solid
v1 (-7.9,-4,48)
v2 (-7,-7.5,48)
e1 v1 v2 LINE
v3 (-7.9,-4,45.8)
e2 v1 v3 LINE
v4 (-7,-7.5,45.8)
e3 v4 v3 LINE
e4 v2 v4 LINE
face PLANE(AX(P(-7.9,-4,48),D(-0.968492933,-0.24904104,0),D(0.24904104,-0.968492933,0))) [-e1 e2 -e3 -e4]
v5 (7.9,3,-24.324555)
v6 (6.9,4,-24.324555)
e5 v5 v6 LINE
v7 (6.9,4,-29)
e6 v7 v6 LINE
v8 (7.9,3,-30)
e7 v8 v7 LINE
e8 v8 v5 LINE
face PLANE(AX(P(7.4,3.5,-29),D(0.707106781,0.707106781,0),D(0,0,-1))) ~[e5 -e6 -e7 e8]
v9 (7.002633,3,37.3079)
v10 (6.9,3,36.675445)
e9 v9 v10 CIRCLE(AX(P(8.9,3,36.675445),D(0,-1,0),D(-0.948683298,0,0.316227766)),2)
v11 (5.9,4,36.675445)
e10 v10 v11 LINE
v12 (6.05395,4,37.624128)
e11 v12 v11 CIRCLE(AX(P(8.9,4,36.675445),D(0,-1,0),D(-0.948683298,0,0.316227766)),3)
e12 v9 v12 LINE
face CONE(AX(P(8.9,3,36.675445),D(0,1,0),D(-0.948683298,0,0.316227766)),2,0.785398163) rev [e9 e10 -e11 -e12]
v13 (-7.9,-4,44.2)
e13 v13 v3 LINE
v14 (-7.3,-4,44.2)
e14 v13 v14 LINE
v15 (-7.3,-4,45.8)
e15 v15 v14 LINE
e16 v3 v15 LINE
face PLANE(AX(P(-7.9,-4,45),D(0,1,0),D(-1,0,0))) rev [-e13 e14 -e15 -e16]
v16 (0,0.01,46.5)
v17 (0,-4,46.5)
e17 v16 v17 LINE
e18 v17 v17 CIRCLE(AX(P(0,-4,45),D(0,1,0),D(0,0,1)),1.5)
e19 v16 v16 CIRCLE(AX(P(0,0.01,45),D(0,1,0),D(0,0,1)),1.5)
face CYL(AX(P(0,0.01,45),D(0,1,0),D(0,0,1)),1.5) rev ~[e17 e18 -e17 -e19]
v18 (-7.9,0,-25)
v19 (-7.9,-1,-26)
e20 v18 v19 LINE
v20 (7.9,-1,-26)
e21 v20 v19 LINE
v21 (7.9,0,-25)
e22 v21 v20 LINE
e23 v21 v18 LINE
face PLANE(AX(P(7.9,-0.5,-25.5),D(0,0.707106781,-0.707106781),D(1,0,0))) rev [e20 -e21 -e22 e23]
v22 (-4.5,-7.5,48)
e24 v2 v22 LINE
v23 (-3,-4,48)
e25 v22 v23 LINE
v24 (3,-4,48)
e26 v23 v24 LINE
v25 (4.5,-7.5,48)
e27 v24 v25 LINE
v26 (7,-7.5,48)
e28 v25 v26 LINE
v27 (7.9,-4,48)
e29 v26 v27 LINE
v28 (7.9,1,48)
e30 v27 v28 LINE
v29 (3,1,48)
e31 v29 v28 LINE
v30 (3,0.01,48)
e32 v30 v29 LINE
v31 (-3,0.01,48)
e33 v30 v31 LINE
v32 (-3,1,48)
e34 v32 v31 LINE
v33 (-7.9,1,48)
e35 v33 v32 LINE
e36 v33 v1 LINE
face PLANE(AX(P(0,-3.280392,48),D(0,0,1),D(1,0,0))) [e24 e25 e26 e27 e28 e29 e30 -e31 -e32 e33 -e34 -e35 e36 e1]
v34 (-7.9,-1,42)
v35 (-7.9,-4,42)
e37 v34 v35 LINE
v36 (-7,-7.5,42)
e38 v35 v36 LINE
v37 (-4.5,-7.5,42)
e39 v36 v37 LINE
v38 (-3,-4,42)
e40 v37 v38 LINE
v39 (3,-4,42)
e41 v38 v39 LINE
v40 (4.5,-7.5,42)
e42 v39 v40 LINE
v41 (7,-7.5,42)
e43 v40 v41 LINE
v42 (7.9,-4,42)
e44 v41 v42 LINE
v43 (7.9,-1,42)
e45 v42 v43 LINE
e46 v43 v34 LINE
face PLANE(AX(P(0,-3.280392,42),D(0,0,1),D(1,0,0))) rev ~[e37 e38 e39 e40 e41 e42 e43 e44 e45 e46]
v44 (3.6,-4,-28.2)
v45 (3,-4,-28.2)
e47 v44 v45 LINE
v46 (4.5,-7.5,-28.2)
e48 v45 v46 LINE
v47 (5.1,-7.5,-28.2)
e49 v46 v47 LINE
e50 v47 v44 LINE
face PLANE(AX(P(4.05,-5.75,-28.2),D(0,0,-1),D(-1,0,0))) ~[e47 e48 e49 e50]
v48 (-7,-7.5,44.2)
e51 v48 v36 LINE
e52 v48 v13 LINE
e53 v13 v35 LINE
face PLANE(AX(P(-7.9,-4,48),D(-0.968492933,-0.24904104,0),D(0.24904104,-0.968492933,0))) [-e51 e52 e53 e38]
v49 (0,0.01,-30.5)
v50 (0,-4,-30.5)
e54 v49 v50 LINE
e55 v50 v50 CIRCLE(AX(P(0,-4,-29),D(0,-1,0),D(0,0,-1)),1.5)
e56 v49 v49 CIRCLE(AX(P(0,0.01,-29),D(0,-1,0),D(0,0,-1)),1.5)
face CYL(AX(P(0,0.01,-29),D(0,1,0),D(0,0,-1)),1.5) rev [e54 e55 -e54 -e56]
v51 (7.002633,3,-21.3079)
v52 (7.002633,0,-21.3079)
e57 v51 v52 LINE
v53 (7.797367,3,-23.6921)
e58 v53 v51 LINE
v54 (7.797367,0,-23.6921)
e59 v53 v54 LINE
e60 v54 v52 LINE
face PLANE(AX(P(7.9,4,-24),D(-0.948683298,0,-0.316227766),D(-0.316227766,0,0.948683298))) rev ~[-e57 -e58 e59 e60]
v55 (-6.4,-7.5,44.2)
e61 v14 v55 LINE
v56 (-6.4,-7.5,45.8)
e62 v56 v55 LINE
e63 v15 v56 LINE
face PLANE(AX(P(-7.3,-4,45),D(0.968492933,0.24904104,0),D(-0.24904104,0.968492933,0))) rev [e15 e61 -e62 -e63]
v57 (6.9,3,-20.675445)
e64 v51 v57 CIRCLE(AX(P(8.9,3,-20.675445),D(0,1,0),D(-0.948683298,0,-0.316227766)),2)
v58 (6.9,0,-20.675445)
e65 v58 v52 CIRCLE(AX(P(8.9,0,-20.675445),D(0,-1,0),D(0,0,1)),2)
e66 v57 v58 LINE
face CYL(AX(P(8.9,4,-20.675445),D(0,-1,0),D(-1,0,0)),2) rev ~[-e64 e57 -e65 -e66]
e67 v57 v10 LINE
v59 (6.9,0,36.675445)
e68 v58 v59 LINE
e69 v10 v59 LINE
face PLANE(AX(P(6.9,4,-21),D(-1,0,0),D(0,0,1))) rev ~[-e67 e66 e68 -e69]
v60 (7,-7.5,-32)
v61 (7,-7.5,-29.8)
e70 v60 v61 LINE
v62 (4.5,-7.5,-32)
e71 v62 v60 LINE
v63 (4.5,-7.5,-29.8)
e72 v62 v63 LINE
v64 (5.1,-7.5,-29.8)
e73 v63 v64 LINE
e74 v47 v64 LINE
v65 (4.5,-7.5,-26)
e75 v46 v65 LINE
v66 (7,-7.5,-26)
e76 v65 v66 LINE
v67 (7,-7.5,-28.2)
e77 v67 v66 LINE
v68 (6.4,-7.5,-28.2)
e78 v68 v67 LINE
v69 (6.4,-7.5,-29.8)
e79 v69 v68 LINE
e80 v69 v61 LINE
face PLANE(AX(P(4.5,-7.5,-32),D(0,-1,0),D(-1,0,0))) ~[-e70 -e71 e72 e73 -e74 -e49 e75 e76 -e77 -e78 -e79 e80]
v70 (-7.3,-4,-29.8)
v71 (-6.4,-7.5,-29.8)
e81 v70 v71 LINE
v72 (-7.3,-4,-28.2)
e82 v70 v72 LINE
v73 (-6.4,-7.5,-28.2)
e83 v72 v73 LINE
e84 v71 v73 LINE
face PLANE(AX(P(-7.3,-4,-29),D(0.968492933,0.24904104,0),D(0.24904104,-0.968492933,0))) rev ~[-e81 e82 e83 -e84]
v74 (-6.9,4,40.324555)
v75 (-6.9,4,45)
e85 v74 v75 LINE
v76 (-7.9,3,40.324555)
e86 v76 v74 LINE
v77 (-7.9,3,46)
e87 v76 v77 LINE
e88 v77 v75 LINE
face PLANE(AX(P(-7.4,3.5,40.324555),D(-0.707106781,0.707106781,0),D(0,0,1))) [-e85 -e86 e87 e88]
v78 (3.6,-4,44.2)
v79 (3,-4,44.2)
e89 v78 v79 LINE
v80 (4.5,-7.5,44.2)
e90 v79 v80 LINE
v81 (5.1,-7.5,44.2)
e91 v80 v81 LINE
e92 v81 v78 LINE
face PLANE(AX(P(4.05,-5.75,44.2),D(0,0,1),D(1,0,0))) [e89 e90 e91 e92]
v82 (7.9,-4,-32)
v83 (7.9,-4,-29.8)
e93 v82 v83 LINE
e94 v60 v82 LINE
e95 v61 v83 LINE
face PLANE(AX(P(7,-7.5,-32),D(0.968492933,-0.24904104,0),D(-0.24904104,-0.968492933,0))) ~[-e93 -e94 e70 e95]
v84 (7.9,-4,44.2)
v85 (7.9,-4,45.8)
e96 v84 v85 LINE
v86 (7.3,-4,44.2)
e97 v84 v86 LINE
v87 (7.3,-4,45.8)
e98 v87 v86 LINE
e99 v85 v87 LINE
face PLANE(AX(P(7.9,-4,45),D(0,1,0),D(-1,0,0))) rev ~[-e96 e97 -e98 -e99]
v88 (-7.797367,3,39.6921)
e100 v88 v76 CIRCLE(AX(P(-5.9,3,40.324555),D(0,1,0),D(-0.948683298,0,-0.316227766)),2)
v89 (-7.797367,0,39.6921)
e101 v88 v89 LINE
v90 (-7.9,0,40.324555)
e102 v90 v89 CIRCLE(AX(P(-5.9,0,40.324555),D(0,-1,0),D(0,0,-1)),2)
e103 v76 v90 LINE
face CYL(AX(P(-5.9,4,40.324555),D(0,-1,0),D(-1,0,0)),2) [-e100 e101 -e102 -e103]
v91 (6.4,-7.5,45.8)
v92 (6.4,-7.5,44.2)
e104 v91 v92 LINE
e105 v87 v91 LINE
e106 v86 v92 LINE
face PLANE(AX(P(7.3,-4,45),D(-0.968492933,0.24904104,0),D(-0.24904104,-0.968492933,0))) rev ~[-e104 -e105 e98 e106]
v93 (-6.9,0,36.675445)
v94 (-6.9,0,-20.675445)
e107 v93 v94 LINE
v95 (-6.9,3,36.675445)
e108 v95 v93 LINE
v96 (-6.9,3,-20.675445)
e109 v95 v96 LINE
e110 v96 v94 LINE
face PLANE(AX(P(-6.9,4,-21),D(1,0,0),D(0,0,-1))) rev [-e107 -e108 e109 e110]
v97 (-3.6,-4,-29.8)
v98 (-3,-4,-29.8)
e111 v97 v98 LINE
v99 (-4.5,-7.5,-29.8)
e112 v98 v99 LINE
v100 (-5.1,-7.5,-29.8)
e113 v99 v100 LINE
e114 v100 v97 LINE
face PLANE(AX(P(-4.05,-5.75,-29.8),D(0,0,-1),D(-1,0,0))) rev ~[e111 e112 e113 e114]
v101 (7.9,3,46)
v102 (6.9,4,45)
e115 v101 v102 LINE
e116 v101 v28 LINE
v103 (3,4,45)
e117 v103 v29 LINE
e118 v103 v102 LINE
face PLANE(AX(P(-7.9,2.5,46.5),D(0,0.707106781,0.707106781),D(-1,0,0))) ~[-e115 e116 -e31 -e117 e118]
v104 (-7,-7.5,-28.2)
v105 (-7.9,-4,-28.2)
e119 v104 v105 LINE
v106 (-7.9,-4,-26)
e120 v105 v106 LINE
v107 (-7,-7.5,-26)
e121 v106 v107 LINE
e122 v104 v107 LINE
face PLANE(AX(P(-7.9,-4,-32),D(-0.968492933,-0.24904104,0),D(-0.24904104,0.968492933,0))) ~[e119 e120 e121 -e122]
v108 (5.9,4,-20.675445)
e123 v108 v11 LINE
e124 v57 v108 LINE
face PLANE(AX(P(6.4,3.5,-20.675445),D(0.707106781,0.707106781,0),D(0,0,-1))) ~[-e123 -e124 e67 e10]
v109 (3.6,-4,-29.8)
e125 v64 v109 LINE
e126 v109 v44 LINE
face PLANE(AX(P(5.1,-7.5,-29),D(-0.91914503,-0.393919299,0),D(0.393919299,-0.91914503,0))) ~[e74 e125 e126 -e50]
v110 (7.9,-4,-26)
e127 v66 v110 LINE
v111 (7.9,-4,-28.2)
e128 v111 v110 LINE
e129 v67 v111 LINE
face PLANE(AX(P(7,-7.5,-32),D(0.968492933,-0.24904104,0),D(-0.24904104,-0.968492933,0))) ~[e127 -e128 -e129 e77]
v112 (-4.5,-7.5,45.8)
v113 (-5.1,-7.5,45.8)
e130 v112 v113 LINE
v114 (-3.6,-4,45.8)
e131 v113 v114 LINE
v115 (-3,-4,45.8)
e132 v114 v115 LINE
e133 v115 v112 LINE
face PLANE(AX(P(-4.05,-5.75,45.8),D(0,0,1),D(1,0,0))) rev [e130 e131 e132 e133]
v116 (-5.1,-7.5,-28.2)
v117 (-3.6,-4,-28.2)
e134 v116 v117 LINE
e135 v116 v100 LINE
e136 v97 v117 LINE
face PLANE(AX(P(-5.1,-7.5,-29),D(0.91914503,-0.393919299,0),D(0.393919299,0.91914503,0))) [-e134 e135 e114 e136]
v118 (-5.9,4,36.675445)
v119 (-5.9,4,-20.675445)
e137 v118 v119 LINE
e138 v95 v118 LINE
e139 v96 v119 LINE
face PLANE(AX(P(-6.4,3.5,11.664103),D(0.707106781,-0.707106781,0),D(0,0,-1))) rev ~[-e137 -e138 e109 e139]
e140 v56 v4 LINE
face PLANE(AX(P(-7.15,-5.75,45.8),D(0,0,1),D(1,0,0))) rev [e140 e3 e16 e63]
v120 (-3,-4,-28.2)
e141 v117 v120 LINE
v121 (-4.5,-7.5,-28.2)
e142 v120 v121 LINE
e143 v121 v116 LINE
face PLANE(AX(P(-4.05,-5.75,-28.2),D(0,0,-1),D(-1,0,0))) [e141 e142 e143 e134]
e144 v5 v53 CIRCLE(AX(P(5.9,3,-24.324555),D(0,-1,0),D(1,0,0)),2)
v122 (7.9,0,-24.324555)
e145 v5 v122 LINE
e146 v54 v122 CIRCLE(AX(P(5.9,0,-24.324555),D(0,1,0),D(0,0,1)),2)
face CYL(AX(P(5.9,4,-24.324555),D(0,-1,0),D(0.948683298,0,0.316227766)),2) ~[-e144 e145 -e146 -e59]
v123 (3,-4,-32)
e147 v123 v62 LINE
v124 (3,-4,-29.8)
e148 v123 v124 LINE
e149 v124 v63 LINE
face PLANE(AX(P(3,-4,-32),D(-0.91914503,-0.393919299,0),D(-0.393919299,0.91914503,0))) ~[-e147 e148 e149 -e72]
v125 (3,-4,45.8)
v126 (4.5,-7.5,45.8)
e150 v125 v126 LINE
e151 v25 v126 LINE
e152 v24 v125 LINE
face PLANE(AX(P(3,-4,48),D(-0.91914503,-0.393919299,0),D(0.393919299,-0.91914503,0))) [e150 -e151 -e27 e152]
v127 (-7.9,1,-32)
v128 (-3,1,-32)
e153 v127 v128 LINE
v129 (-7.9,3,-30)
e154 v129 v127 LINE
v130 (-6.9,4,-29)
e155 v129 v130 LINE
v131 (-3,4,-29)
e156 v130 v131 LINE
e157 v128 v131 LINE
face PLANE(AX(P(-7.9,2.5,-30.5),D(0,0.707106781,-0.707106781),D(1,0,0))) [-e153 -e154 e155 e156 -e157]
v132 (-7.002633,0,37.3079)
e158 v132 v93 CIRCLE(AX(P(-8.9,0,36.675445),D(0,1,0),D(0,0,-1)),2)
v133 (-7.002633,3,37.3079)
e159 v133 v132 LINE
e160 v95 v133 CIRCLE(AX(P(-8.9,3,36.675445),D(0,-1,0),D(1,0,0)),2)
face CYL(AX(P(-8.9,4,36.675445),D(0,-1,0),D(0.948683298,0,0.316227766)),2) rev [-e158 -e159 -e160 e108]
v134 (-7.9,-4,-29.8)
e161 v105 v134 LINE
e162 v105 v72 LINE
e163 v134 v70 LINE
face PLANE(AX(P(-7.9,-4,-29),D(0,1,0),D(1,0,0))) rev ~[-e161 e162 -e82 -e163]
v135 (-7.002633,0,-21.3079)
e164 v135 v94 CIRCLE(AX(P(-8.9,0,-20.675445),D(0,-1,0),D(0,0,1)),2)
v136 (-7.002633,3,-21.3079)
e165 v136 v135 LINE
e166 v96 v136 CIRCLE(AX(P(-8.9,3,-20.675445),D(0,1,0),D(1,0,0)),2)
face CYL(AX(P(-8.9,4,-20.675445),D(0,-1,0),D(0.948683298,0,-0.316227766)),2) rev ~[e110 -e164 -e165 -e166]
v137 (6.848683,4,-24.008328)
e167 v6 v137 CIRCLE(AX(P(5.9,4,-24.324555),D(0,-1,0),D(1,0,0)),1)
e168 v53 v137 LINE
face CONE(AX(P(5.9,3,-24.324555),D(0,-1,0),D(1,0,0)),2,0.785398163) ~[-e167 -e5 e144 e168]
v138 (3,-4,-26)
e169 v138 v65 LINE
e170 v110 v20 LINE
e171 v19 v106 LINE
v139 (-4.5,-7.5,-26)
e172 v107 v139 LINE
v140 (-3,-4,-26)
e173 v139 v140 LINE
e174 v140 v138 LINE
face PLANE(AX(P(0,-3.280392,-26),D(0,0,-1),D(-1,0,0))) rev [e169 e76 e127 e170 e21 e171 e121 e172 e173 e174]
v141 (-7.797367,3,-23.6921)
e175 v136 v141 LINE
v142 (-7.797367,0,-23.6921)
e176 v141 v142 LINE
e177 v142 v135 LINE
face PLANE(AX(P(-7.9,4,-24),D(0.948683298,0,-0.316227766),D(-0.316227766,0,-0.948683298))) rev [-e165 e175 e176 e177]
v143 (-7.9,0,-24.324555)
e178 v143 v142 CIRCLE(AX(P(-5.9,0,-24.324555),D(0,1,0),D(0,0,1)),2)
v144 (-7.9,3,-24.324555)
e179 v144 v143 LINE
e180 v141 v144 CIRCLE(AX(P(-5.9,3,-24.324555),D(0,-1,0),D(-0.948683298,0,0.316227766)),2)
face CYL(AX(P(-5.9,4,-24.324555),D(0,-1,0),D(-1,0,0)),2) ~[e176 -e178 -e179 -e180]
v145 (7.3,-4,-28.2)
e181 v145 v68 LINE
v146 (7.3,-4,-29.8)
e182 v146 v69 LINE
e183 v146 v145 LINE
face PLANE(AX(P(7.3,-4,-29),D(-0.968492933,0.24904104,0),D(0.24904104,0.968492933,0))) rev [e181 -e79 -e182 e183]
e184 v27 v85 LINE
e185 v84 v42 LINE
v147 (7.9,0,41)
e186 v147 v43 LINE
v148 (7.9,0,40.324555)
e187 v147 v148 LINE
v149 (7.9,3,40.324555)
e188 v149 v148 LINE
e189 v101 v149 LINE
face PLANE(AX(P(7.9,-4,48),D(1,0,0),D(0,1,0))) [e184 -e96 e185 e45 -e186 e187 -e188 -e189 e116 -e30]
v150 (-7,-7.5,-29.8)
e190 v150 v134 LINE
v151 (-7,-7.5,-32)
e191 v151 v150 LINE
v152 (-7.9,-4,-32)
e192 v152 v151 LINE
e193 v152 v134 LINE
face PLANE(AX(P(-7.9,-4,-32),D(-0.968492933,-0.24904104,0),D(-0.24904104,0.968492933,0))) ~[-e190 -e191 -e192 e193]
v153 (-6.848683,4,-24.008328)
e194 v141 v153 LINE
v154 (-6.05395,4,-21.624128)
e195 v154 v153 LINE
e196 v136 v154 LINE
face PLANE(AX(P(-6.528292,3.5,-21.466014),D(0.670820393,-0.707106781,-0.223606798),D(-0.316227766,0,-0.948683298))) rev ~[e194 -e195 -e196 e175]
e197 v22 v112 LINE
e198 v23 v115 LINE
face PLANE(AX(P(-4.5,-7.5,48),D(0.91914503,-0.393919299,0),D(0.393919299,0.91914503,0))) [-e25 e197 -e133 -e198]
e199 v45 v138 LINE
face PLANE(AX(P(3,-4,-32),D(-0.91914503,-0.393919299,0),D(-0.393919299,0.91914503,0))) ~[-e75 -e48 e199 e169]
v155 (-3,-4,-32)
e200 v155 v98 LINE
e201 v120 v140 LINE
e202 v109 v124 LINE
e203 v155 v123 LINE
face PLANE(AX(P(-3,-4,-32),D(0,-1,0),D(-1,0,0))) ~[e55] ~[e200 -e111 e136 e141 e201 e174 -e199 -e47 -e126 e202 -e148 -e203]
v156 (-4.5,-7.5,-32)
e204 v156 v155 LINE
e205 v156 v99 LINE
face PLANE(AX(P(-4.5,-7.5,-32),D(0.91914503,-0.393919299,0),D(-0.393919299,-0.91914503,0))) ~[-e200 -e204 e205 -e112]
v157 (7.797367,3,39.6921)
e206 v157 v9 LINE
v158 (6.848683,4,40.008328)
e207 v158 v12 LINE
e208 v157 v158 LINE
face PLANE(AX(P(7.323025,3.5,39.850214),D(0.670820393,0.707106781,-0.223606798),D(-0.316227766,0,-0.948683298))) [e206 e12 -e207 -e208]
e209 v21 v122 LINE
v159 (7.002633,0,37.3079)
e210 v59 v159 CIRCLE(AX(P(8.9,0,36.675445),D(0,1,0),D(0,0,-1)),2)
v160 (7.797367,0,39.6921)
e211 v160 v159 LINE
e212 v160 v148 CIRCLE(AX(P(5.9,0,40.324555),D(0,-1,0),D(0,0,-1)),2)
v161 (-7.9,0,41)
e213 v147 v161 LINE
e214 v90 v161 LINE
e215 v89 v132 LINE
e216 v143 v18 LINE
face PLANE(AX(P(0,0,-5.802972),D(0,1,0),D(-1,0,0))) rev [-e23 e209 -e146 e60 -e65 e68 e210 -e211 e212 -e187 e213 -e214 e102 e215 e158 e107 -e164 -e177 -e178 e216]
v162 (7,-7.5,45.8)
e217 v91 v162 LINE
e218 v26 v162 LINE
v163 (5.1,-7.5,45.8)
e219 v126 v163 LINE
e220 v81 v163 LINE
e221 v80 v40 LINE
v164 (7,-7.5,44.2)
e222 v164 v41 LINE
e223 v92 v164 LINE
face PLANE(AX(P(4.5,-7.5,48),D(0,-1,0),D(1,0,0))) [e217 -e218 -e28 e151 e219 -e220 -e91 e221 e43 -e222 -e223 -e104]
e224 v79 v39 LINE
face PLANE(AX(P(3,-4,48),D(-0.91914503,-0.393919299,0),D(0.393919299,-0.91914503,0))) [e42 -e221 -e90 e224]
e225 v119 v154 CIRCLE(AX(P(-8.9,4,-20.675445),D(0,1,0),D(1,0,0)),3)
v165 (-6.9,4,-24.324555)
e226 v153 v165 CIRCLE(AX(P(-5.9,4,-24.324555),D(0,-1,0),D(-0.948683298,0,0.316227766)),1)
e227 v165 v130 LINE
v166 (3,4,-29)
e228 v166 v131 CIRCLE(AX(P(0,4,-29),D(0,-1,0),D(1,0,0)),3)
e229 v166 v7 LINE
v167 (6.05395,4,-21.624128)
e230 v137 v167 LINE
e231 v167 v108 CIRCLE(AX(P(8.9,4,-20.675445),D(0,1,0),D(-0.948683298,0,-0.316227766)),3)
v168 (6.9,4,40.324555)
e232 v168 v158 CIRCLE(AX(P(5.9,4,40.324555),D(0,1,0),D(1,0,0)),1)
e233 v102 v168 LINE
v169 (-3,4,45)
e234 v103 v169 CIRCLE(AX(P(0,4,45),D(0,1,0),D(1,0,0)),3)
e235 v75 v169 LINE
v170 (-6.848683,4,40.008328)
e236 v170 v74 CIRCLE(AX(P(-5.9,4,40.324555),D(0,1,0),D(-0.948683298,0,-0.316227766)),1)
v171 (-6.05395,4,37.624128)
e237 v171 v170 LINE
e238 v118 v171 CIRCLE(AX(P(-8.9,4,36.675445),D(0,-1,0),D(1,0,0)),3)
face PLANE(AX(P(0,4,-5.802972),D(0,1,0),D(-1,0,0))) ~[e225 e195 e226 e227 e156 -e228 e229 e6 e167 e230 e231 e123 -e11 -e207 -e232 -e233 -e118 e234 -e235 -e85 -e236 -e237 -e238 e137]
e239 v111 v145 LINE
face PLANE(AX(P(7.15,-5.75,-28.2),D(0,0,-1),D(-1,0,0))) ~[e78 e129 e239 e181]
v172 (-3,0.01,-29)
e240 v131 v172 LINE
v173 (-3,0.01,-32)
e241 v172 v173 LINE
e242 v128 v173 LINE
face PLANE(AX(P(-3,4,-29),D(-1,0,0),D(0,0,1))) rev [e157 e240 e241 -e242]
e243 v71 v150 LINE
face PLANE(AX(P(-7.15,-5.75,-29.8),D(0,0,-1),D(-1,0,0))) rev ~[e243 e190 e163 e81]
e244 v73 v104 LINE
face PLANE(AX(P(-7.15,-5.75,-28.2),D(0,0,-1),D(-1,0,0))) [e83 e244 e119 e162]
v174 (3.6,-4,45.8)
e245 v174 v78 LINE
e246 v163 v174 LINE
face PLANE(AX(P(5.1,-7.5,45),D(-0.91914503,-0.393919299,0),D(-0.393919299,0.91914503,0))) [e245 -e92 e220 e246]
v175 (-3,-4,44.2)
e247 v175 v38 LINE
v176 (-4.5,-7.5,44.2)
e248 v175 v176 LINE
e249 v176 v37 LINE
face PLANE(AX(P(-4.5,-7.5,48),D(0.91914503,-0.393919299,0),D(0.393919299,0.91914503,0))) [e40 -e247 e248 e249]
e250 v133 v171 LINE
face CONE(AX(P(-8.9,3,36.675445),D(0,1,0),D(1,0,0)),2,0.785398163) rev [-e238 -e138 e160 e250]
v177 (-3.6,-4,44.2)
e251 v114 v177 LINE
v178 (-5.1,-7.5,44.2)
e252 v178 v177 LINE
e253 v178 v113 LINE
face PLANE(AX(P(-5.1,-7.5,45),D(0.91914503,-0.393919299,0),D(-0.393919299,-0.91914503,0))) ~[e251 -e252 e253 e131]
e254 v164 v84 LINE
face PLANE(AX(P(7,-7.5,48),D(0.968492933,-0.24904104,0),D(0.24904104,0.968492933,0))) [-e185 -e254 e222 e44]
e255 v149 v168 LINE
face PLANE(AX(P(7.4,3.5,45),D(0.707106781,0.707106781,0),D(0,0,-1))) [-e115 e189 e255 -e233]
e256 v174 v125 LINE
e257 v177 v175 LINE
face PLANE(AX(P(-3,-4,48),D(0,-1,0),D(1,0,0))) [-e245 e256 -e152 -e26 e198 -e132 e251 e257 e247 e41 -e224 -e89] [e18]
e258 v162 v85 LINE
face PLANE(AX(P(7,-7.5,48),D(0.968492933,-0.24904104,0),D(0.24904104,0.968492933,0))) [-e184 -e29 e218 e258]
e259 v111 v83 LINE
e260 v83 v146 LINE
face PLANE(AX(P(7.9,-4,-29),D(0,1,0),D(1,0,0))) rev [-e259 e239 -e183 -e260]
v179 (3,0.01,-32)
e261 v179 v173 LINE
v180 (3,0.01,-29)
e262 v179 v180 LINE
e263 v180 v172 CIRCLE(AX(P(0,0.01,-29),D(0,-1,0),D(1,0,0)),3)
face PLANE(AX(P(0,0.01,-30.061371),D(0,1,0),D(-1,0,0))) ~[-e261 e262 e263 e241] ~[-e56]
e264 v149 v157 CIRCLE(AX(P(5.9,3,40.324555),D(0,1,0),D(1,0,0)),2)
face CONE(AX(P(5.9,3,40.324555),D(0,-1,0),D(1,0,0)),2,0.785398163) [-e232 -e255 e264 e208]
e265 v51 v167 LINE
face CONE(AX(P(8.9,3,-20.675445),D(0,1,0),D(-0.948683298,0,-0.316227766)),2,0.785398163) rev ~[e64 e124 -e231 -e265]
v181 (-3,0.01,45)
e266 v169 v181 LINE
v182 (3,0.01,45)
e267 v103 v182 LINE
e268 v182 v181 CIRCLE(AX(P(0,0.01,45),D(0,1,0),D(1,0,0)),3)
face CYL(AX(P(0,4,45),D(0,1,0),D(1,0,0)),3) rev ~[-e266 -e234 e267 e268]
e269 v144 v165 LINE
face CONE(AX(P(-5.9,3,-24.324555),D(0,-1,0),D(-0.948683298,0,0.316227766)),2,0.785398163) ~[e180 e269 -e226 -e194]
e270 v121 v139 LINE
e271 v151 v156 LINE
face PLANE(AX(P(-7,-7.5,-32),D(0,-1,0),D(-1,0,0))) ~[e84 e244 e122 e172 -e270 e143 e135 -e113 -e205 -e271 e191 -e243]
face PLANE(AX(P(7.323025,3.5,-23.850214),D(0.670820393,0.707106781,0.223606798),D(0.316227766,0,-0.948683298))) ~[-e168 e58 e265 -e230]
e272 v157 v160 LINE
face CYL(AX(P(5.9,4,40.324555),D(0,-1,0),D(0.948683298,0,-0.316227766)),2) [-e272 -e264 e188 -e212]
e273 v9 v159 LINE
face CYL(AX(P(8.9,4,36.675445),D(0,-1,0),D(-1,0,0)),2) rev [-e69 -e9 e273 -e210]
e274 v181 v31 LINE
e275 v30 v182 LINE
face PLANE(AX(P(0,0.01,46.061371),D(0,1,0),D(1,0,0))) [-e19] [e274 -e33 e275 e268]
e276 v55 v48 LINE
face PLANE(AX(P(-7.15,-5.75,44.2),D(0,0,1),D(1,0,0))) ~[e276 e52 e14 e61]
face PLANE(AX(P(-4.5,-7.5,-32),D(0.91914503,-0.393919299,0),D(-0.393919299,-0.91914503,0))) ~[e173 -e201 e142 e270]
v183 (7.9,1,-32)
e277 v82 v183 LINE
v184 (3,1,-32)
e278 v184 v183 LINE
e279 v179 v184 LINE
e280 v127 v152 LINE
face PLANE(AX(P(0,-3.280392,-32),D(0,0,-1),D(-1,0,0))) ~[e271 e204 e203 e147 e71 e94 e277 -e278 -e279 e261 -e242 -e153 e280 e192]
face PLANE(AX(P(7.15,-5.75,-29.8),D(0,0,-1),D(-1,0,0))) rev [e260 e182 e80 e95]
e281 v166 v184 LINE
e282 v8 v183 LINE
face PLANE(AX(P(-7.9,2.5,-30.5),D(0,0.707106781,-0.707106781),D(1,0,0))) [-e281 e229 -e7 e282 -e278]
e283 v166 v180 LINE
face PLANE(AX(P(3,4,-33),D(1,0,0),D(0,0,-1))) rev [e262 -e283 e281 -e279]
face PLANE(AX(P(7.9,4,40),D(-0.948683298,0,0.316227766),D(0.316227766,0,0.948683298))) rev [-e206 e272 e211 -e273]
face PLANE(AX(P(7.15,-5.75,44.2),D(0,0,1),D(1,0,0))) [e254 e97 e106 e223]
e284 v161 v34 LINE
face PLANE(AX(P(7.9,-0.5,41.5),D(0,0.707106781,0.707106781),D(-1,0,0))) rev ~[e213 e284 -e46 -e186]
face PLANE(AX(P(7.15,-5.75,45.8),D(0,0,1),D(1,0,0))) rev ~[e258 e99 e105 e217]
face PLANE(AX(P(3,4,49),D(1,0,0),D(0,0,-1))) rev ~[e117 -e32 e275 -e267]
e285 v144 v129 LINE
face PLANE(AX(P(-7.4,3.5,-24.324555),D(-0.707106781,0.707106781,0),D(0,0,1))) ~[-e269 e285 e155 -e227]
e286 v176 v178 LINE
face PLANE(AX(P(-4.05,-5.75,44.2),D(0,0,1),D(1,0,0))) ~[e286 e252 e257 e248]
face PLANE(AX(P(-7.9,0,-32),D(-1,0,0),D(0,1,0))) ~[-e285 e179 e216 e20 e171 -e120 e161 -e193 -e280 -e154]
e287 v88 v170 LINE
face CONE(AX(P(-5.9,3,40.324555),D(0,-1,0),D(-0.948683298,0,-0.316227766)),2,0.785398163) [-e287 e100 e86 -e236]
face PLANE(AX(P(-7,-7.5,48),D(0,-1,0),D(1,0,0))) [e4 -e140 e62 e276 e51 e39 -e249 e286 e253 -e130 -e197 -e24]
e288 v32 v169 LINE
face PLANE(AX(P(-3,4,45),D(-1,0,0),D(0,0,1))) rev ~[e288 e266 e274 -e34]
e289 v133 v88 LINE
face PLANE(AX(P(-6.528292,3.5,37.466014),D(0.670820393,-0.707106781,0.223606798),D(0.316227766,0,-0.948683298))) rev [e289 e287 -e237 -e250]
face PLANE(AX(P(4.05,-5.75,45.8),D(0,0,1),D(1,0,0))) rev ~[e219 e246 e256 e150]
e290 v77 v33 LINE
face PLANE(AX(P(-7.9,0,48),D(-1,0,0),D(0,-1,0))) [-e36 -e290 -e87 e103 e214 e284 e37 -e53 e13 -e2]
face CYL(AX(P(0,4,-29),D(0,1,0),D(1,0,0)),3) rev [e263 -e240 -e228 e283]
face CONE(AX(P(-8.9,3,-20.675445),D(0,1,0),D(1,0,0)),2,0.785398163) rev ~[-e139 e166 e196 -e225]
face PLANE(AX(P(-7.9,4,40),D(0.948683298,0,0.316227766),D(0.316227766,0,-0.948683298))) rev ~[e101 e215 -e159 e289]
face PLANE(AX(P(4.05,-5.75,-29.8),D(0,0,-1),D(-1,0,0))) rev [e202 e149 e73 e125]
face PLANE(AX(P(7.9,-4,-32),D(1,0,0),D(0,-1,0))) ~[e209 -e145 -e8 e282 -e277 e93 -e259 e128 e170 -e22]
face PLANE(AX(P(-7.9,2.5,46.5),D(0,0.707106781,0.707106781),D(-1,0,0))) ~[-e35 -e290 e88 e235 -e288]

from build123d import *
from build123d.topology import SkipClean

# Parameters (mm, degrees)
EXTRUDE_1_DEPTH     = 4
EXTRUDE_3_DEPTH     = 6
CHAMFER_1_SIZE      = 3
CUT_EXTRUDE_2_DEPTH = 3.99
CUT_EXTRUDE_3_REACH = 51.222
SKETCH_7_R          = 1.5
SKETCH_8_R          = 6
EXTRUDE_4_DEPTH     = 1
FILLET_1_R          = 0.5
SKETCH_9_R          = 5
CUT_EXTRUDE_4_DEPTH = 3
SKETCH_10_R         = 3.55
CUT_EXTRUDE_5_DEPTH = 3.6
CUT_EXTRUDE_6_DEPTH = 0.8
CUT_EXTRUDE_7_DEPTH = 50.986598204
FILLET_2_R          = 2
CHAMFER_2_SIZE      = 1


with BuildPart() as part:
    # ｽｹｯﾁ1 → ﾎﾞｽ - 押し出し1 (new body)
    with BuildSketch(Plane(origin=(0, 0, 0), x_dir=(1, 0, 0), z_dir=(0, 1, 0))):
        with BuildLine():
            Line((-7.9, 0), (-7.9, -48))
            Line((-7.9, -48), (7.9, -48))
            Line((7.9, -48), (7.9, 0))
            ThreePointArc((7.9, 0), (0, 7.9), (-7.9, 0))
        make_face()
    extrude(amount=EXTRUDE_1_DEPTH)

    # ｽｹｯﾁ4 → ﾎﾞｽ - 押し出し3 (add)
    with BuildSketch(Plane.XY.offset(48)):
        Polygon((-7, -7.5), (-4.5, -7.5), (-3, -4), (3, -4), (4.5, -7.5), (7, -7.5), (7.9, -4), (7.9, 0), (-7.9, 0), (-7.9, -4), align=None)
    extrude(amount=-EXTRUDE_3_DEPTH)

    # 面取り1
    chamfer_1_edges = [part.edges().sort_by_distance(p)[0] for p in [
        (0, 4, 48),
    ]]
    chamfer(chamfer_1_edges, length=CHAMFER_1_SIZE)

    # ｽｹｯﾁ6 → ｶｯﾄ - 押し出し2 (cut)
    with BuildSketch(Plane(origin=(0, 4, 0), x_dir=(1, 0, 0), z_dir=(0, 1, 0))):
        with BuildLine():
            Line((-3, -45), (-3, -49))
            Line((-3, -49), (3, -49))
            Line((3, -49), (3, -45))
            ThreePointArc((3, -45), (0, -42), (-3, -45))
        make_face()
    extrude(amount=-CUT_EXTRUDE_2_DEPTH, mode=Mode.SUBTRACT)

    # ｽｹｯﾁ7 → ｶｯﾄ - 押し出し3 (cut, up to next)
    with BuildSketch(Plane(origin=(0, 0.01, 0), x_dir=(1, 0, 0), z_dir=(0, 1, 0)), mode=Mode.PRIVATE) as cut_extrude_3_sk1:
        with Locations(Location((0, -45, 0), (0, 0, 270))):
            Circle(SKETCH_7_R)
    cut_extrude_3_tool1 = extrude(cut_extrude_3_sk1.sketch, amount=-CUT_EXTRUDE_3_REACH, mode=Mode.PRIVATE) & part.part
    add(cut_extrude_3_tool1.solids().sort_by_distance((0, 0.01, 45))[0], mode=Mode.SUBTRACT)

    # ｽｹｯﾁ8 → ﾎﾞｽ - 押し出し4 (add)
    with BuildSketch(Plane.XZ):
        with Locations(Location((0, 0, 0), (0, 0, 90))):
            Circle(SKETCH_8_R)
    extrude(amount=EXTRUDE_4_DEPTH)

    # ﾌｨﾚｯﾄ1
    fillet_1_edges = [part.edges().sort_by_distance(p)[0] for p in [
        (0, 0, -6),
    ]]
    fillet(fillet_1_edges, radius=FILLET_1_R)

    # ｽｹｯﾁ9 → ｶｯﾄ - 押し出し4 (cut)
    with BuildSketch(Plane(origin=(0, 4, 0), x_dir=(1, 0, 0), z_dir=(0, 1, 0))):
        with Locations(Location((0, 0, 0), (0, 0, 270))):
            Circle(SKETCH_9_R)
    extrude(amount=-CUT_EXTRUDE_4_DEPTH, mode=Mode.SUBTRACT)

    # ｽｹｯﾁ10 → ｶｯﾄ - 押し出し5 (cut)
    with BuildSketch(Plane(origin=(0, 1, 0), x_dir=(1, 0, 0), z_dir=(0, 1, 0))):
        with Locations(Location((0, 0, 0), (0, 0, 270))):
            Circle(SKETCH_10_R)
    extrude(amount=-CUT_EXTRUDE_5_DEPTH, mode=Mode.SUBTRACT)

    # ｽｹｯﾁ11 → ｶｯﾄ - 押し出し6 (cut, symmetric)
    with BuildSketch(Plane.XY.offset(45)):
        Polygon((3, -4), (4.5, -7.5), (5.1, -7.5), (3.6, -4), align=None)
        Polygon((6.4, -7.5), (7, -7.5), (7.9, -4), (7.3, -4), align=None)
    cut_extrude_6 = extrude(amount=CUT_EXTRUDE_6_DEPTH, both=True, mode=Mode.SUBTRACT)

    # ﾐﾗｰ1: ｶｯﾄ - 押し出し6 across plane
    add(cut_extrude_6.mirror(Plane(origin=(0, 0, 0), x_dir=(0, 0, 1), z_dir=(1, 0, 0))), mode=Mode.SUBTRACT)

    # ｽｹｯﾁ12 → ｶｯﾄ - 押し出し7 (cut, through all)
    with SkipClean():  # the faces are left unmerged after this step: merging them gives an invalid solid
        with BuildSketch(Plane(origin=(0, 4, 0), x_dir=(1, 0, 0), z_dir=(0, 1, 0))):
            with BuildLine():
                Line((-7.9, 0), (-7.9, -40))
                Line((-7.9, -40), (-6.9, -37))
                Line((-6.9, -37), (-6.9, -3.847076812))
                ThreePointArc((-6.9, -3.847076812), (-7.645913941, -1.987460691), (-7.9, 0))
            make_face()
        cut_extrude_7 = extrude(amount=-CUT_EXTRUDE_7_DEPTH, mode=Mode.SUBTRACT)

    # ﾐﾗｰ2: ｶｯﾄ - 押し出し7 across plane
    with SkipClean():  # the faces are left unmerged after this step: merging them gives an invalid solid
        add(cut_extrude_7.mirror(Plane(origin=(0, 0, 0), x_dir=(0, 0, 1), z_dir=(1, 0, 0))), mode=Mode.SUBTRACT)

    # ﾌｨﾚｯﾄ2
    fillet_2_edges = [part.edges().sort_by_distance(p)[0] for p in [
        (-6.9, 2, 3.847076812),
        (-6.9, 2, 37),
        (-7.9, 2, 40),
        (6.9, 2, 3.847076812),
        (7.9, 2, 40),
        (6.9, 2, 37),
    ]]
    fillet(fillet_2_edges, radius=FILLET_2_R)

    # 面取り2
    chamfer_2_edges = [part.edges().sort_by_distance(p)[0] for p in [
        (-7.9, 4, 42.66227766),
        (0, 4, -7.9),
        (7.9, 4, 42.66227766),
        (0, 0, 42),
        (-7.874174915, 4, 40.004190834),
        (-7.4, 4, 38.5),
        (-6.925825085, 4, 36.995809166),
        (-6.9, 4, 20.505670679),
        (-6.951159371, 4, 3.886430103),
        (6.951159371, 4, 3.886430103),
        (6.9, 4, 20.505670679),
        (6.925825085, 4, 36.995809166),
        (7.4, 4, 38.5),
        (7.874174915, 4, 40.004190834),
    ]]
    chamfer(chamfer_2_edges, length=CHAMFER_2_SIZE)

    # Surface Cut 1
    split(bisect_by=Plane.XY.offset(8), keep=Keep.TOP)

    # ﾐﾗｰ4: part across plane


with BuildPart() as part_1:
    add(part.part)
    add(part.part.mirror(Plane.XY.offset(8)))


solid = part_1.part
